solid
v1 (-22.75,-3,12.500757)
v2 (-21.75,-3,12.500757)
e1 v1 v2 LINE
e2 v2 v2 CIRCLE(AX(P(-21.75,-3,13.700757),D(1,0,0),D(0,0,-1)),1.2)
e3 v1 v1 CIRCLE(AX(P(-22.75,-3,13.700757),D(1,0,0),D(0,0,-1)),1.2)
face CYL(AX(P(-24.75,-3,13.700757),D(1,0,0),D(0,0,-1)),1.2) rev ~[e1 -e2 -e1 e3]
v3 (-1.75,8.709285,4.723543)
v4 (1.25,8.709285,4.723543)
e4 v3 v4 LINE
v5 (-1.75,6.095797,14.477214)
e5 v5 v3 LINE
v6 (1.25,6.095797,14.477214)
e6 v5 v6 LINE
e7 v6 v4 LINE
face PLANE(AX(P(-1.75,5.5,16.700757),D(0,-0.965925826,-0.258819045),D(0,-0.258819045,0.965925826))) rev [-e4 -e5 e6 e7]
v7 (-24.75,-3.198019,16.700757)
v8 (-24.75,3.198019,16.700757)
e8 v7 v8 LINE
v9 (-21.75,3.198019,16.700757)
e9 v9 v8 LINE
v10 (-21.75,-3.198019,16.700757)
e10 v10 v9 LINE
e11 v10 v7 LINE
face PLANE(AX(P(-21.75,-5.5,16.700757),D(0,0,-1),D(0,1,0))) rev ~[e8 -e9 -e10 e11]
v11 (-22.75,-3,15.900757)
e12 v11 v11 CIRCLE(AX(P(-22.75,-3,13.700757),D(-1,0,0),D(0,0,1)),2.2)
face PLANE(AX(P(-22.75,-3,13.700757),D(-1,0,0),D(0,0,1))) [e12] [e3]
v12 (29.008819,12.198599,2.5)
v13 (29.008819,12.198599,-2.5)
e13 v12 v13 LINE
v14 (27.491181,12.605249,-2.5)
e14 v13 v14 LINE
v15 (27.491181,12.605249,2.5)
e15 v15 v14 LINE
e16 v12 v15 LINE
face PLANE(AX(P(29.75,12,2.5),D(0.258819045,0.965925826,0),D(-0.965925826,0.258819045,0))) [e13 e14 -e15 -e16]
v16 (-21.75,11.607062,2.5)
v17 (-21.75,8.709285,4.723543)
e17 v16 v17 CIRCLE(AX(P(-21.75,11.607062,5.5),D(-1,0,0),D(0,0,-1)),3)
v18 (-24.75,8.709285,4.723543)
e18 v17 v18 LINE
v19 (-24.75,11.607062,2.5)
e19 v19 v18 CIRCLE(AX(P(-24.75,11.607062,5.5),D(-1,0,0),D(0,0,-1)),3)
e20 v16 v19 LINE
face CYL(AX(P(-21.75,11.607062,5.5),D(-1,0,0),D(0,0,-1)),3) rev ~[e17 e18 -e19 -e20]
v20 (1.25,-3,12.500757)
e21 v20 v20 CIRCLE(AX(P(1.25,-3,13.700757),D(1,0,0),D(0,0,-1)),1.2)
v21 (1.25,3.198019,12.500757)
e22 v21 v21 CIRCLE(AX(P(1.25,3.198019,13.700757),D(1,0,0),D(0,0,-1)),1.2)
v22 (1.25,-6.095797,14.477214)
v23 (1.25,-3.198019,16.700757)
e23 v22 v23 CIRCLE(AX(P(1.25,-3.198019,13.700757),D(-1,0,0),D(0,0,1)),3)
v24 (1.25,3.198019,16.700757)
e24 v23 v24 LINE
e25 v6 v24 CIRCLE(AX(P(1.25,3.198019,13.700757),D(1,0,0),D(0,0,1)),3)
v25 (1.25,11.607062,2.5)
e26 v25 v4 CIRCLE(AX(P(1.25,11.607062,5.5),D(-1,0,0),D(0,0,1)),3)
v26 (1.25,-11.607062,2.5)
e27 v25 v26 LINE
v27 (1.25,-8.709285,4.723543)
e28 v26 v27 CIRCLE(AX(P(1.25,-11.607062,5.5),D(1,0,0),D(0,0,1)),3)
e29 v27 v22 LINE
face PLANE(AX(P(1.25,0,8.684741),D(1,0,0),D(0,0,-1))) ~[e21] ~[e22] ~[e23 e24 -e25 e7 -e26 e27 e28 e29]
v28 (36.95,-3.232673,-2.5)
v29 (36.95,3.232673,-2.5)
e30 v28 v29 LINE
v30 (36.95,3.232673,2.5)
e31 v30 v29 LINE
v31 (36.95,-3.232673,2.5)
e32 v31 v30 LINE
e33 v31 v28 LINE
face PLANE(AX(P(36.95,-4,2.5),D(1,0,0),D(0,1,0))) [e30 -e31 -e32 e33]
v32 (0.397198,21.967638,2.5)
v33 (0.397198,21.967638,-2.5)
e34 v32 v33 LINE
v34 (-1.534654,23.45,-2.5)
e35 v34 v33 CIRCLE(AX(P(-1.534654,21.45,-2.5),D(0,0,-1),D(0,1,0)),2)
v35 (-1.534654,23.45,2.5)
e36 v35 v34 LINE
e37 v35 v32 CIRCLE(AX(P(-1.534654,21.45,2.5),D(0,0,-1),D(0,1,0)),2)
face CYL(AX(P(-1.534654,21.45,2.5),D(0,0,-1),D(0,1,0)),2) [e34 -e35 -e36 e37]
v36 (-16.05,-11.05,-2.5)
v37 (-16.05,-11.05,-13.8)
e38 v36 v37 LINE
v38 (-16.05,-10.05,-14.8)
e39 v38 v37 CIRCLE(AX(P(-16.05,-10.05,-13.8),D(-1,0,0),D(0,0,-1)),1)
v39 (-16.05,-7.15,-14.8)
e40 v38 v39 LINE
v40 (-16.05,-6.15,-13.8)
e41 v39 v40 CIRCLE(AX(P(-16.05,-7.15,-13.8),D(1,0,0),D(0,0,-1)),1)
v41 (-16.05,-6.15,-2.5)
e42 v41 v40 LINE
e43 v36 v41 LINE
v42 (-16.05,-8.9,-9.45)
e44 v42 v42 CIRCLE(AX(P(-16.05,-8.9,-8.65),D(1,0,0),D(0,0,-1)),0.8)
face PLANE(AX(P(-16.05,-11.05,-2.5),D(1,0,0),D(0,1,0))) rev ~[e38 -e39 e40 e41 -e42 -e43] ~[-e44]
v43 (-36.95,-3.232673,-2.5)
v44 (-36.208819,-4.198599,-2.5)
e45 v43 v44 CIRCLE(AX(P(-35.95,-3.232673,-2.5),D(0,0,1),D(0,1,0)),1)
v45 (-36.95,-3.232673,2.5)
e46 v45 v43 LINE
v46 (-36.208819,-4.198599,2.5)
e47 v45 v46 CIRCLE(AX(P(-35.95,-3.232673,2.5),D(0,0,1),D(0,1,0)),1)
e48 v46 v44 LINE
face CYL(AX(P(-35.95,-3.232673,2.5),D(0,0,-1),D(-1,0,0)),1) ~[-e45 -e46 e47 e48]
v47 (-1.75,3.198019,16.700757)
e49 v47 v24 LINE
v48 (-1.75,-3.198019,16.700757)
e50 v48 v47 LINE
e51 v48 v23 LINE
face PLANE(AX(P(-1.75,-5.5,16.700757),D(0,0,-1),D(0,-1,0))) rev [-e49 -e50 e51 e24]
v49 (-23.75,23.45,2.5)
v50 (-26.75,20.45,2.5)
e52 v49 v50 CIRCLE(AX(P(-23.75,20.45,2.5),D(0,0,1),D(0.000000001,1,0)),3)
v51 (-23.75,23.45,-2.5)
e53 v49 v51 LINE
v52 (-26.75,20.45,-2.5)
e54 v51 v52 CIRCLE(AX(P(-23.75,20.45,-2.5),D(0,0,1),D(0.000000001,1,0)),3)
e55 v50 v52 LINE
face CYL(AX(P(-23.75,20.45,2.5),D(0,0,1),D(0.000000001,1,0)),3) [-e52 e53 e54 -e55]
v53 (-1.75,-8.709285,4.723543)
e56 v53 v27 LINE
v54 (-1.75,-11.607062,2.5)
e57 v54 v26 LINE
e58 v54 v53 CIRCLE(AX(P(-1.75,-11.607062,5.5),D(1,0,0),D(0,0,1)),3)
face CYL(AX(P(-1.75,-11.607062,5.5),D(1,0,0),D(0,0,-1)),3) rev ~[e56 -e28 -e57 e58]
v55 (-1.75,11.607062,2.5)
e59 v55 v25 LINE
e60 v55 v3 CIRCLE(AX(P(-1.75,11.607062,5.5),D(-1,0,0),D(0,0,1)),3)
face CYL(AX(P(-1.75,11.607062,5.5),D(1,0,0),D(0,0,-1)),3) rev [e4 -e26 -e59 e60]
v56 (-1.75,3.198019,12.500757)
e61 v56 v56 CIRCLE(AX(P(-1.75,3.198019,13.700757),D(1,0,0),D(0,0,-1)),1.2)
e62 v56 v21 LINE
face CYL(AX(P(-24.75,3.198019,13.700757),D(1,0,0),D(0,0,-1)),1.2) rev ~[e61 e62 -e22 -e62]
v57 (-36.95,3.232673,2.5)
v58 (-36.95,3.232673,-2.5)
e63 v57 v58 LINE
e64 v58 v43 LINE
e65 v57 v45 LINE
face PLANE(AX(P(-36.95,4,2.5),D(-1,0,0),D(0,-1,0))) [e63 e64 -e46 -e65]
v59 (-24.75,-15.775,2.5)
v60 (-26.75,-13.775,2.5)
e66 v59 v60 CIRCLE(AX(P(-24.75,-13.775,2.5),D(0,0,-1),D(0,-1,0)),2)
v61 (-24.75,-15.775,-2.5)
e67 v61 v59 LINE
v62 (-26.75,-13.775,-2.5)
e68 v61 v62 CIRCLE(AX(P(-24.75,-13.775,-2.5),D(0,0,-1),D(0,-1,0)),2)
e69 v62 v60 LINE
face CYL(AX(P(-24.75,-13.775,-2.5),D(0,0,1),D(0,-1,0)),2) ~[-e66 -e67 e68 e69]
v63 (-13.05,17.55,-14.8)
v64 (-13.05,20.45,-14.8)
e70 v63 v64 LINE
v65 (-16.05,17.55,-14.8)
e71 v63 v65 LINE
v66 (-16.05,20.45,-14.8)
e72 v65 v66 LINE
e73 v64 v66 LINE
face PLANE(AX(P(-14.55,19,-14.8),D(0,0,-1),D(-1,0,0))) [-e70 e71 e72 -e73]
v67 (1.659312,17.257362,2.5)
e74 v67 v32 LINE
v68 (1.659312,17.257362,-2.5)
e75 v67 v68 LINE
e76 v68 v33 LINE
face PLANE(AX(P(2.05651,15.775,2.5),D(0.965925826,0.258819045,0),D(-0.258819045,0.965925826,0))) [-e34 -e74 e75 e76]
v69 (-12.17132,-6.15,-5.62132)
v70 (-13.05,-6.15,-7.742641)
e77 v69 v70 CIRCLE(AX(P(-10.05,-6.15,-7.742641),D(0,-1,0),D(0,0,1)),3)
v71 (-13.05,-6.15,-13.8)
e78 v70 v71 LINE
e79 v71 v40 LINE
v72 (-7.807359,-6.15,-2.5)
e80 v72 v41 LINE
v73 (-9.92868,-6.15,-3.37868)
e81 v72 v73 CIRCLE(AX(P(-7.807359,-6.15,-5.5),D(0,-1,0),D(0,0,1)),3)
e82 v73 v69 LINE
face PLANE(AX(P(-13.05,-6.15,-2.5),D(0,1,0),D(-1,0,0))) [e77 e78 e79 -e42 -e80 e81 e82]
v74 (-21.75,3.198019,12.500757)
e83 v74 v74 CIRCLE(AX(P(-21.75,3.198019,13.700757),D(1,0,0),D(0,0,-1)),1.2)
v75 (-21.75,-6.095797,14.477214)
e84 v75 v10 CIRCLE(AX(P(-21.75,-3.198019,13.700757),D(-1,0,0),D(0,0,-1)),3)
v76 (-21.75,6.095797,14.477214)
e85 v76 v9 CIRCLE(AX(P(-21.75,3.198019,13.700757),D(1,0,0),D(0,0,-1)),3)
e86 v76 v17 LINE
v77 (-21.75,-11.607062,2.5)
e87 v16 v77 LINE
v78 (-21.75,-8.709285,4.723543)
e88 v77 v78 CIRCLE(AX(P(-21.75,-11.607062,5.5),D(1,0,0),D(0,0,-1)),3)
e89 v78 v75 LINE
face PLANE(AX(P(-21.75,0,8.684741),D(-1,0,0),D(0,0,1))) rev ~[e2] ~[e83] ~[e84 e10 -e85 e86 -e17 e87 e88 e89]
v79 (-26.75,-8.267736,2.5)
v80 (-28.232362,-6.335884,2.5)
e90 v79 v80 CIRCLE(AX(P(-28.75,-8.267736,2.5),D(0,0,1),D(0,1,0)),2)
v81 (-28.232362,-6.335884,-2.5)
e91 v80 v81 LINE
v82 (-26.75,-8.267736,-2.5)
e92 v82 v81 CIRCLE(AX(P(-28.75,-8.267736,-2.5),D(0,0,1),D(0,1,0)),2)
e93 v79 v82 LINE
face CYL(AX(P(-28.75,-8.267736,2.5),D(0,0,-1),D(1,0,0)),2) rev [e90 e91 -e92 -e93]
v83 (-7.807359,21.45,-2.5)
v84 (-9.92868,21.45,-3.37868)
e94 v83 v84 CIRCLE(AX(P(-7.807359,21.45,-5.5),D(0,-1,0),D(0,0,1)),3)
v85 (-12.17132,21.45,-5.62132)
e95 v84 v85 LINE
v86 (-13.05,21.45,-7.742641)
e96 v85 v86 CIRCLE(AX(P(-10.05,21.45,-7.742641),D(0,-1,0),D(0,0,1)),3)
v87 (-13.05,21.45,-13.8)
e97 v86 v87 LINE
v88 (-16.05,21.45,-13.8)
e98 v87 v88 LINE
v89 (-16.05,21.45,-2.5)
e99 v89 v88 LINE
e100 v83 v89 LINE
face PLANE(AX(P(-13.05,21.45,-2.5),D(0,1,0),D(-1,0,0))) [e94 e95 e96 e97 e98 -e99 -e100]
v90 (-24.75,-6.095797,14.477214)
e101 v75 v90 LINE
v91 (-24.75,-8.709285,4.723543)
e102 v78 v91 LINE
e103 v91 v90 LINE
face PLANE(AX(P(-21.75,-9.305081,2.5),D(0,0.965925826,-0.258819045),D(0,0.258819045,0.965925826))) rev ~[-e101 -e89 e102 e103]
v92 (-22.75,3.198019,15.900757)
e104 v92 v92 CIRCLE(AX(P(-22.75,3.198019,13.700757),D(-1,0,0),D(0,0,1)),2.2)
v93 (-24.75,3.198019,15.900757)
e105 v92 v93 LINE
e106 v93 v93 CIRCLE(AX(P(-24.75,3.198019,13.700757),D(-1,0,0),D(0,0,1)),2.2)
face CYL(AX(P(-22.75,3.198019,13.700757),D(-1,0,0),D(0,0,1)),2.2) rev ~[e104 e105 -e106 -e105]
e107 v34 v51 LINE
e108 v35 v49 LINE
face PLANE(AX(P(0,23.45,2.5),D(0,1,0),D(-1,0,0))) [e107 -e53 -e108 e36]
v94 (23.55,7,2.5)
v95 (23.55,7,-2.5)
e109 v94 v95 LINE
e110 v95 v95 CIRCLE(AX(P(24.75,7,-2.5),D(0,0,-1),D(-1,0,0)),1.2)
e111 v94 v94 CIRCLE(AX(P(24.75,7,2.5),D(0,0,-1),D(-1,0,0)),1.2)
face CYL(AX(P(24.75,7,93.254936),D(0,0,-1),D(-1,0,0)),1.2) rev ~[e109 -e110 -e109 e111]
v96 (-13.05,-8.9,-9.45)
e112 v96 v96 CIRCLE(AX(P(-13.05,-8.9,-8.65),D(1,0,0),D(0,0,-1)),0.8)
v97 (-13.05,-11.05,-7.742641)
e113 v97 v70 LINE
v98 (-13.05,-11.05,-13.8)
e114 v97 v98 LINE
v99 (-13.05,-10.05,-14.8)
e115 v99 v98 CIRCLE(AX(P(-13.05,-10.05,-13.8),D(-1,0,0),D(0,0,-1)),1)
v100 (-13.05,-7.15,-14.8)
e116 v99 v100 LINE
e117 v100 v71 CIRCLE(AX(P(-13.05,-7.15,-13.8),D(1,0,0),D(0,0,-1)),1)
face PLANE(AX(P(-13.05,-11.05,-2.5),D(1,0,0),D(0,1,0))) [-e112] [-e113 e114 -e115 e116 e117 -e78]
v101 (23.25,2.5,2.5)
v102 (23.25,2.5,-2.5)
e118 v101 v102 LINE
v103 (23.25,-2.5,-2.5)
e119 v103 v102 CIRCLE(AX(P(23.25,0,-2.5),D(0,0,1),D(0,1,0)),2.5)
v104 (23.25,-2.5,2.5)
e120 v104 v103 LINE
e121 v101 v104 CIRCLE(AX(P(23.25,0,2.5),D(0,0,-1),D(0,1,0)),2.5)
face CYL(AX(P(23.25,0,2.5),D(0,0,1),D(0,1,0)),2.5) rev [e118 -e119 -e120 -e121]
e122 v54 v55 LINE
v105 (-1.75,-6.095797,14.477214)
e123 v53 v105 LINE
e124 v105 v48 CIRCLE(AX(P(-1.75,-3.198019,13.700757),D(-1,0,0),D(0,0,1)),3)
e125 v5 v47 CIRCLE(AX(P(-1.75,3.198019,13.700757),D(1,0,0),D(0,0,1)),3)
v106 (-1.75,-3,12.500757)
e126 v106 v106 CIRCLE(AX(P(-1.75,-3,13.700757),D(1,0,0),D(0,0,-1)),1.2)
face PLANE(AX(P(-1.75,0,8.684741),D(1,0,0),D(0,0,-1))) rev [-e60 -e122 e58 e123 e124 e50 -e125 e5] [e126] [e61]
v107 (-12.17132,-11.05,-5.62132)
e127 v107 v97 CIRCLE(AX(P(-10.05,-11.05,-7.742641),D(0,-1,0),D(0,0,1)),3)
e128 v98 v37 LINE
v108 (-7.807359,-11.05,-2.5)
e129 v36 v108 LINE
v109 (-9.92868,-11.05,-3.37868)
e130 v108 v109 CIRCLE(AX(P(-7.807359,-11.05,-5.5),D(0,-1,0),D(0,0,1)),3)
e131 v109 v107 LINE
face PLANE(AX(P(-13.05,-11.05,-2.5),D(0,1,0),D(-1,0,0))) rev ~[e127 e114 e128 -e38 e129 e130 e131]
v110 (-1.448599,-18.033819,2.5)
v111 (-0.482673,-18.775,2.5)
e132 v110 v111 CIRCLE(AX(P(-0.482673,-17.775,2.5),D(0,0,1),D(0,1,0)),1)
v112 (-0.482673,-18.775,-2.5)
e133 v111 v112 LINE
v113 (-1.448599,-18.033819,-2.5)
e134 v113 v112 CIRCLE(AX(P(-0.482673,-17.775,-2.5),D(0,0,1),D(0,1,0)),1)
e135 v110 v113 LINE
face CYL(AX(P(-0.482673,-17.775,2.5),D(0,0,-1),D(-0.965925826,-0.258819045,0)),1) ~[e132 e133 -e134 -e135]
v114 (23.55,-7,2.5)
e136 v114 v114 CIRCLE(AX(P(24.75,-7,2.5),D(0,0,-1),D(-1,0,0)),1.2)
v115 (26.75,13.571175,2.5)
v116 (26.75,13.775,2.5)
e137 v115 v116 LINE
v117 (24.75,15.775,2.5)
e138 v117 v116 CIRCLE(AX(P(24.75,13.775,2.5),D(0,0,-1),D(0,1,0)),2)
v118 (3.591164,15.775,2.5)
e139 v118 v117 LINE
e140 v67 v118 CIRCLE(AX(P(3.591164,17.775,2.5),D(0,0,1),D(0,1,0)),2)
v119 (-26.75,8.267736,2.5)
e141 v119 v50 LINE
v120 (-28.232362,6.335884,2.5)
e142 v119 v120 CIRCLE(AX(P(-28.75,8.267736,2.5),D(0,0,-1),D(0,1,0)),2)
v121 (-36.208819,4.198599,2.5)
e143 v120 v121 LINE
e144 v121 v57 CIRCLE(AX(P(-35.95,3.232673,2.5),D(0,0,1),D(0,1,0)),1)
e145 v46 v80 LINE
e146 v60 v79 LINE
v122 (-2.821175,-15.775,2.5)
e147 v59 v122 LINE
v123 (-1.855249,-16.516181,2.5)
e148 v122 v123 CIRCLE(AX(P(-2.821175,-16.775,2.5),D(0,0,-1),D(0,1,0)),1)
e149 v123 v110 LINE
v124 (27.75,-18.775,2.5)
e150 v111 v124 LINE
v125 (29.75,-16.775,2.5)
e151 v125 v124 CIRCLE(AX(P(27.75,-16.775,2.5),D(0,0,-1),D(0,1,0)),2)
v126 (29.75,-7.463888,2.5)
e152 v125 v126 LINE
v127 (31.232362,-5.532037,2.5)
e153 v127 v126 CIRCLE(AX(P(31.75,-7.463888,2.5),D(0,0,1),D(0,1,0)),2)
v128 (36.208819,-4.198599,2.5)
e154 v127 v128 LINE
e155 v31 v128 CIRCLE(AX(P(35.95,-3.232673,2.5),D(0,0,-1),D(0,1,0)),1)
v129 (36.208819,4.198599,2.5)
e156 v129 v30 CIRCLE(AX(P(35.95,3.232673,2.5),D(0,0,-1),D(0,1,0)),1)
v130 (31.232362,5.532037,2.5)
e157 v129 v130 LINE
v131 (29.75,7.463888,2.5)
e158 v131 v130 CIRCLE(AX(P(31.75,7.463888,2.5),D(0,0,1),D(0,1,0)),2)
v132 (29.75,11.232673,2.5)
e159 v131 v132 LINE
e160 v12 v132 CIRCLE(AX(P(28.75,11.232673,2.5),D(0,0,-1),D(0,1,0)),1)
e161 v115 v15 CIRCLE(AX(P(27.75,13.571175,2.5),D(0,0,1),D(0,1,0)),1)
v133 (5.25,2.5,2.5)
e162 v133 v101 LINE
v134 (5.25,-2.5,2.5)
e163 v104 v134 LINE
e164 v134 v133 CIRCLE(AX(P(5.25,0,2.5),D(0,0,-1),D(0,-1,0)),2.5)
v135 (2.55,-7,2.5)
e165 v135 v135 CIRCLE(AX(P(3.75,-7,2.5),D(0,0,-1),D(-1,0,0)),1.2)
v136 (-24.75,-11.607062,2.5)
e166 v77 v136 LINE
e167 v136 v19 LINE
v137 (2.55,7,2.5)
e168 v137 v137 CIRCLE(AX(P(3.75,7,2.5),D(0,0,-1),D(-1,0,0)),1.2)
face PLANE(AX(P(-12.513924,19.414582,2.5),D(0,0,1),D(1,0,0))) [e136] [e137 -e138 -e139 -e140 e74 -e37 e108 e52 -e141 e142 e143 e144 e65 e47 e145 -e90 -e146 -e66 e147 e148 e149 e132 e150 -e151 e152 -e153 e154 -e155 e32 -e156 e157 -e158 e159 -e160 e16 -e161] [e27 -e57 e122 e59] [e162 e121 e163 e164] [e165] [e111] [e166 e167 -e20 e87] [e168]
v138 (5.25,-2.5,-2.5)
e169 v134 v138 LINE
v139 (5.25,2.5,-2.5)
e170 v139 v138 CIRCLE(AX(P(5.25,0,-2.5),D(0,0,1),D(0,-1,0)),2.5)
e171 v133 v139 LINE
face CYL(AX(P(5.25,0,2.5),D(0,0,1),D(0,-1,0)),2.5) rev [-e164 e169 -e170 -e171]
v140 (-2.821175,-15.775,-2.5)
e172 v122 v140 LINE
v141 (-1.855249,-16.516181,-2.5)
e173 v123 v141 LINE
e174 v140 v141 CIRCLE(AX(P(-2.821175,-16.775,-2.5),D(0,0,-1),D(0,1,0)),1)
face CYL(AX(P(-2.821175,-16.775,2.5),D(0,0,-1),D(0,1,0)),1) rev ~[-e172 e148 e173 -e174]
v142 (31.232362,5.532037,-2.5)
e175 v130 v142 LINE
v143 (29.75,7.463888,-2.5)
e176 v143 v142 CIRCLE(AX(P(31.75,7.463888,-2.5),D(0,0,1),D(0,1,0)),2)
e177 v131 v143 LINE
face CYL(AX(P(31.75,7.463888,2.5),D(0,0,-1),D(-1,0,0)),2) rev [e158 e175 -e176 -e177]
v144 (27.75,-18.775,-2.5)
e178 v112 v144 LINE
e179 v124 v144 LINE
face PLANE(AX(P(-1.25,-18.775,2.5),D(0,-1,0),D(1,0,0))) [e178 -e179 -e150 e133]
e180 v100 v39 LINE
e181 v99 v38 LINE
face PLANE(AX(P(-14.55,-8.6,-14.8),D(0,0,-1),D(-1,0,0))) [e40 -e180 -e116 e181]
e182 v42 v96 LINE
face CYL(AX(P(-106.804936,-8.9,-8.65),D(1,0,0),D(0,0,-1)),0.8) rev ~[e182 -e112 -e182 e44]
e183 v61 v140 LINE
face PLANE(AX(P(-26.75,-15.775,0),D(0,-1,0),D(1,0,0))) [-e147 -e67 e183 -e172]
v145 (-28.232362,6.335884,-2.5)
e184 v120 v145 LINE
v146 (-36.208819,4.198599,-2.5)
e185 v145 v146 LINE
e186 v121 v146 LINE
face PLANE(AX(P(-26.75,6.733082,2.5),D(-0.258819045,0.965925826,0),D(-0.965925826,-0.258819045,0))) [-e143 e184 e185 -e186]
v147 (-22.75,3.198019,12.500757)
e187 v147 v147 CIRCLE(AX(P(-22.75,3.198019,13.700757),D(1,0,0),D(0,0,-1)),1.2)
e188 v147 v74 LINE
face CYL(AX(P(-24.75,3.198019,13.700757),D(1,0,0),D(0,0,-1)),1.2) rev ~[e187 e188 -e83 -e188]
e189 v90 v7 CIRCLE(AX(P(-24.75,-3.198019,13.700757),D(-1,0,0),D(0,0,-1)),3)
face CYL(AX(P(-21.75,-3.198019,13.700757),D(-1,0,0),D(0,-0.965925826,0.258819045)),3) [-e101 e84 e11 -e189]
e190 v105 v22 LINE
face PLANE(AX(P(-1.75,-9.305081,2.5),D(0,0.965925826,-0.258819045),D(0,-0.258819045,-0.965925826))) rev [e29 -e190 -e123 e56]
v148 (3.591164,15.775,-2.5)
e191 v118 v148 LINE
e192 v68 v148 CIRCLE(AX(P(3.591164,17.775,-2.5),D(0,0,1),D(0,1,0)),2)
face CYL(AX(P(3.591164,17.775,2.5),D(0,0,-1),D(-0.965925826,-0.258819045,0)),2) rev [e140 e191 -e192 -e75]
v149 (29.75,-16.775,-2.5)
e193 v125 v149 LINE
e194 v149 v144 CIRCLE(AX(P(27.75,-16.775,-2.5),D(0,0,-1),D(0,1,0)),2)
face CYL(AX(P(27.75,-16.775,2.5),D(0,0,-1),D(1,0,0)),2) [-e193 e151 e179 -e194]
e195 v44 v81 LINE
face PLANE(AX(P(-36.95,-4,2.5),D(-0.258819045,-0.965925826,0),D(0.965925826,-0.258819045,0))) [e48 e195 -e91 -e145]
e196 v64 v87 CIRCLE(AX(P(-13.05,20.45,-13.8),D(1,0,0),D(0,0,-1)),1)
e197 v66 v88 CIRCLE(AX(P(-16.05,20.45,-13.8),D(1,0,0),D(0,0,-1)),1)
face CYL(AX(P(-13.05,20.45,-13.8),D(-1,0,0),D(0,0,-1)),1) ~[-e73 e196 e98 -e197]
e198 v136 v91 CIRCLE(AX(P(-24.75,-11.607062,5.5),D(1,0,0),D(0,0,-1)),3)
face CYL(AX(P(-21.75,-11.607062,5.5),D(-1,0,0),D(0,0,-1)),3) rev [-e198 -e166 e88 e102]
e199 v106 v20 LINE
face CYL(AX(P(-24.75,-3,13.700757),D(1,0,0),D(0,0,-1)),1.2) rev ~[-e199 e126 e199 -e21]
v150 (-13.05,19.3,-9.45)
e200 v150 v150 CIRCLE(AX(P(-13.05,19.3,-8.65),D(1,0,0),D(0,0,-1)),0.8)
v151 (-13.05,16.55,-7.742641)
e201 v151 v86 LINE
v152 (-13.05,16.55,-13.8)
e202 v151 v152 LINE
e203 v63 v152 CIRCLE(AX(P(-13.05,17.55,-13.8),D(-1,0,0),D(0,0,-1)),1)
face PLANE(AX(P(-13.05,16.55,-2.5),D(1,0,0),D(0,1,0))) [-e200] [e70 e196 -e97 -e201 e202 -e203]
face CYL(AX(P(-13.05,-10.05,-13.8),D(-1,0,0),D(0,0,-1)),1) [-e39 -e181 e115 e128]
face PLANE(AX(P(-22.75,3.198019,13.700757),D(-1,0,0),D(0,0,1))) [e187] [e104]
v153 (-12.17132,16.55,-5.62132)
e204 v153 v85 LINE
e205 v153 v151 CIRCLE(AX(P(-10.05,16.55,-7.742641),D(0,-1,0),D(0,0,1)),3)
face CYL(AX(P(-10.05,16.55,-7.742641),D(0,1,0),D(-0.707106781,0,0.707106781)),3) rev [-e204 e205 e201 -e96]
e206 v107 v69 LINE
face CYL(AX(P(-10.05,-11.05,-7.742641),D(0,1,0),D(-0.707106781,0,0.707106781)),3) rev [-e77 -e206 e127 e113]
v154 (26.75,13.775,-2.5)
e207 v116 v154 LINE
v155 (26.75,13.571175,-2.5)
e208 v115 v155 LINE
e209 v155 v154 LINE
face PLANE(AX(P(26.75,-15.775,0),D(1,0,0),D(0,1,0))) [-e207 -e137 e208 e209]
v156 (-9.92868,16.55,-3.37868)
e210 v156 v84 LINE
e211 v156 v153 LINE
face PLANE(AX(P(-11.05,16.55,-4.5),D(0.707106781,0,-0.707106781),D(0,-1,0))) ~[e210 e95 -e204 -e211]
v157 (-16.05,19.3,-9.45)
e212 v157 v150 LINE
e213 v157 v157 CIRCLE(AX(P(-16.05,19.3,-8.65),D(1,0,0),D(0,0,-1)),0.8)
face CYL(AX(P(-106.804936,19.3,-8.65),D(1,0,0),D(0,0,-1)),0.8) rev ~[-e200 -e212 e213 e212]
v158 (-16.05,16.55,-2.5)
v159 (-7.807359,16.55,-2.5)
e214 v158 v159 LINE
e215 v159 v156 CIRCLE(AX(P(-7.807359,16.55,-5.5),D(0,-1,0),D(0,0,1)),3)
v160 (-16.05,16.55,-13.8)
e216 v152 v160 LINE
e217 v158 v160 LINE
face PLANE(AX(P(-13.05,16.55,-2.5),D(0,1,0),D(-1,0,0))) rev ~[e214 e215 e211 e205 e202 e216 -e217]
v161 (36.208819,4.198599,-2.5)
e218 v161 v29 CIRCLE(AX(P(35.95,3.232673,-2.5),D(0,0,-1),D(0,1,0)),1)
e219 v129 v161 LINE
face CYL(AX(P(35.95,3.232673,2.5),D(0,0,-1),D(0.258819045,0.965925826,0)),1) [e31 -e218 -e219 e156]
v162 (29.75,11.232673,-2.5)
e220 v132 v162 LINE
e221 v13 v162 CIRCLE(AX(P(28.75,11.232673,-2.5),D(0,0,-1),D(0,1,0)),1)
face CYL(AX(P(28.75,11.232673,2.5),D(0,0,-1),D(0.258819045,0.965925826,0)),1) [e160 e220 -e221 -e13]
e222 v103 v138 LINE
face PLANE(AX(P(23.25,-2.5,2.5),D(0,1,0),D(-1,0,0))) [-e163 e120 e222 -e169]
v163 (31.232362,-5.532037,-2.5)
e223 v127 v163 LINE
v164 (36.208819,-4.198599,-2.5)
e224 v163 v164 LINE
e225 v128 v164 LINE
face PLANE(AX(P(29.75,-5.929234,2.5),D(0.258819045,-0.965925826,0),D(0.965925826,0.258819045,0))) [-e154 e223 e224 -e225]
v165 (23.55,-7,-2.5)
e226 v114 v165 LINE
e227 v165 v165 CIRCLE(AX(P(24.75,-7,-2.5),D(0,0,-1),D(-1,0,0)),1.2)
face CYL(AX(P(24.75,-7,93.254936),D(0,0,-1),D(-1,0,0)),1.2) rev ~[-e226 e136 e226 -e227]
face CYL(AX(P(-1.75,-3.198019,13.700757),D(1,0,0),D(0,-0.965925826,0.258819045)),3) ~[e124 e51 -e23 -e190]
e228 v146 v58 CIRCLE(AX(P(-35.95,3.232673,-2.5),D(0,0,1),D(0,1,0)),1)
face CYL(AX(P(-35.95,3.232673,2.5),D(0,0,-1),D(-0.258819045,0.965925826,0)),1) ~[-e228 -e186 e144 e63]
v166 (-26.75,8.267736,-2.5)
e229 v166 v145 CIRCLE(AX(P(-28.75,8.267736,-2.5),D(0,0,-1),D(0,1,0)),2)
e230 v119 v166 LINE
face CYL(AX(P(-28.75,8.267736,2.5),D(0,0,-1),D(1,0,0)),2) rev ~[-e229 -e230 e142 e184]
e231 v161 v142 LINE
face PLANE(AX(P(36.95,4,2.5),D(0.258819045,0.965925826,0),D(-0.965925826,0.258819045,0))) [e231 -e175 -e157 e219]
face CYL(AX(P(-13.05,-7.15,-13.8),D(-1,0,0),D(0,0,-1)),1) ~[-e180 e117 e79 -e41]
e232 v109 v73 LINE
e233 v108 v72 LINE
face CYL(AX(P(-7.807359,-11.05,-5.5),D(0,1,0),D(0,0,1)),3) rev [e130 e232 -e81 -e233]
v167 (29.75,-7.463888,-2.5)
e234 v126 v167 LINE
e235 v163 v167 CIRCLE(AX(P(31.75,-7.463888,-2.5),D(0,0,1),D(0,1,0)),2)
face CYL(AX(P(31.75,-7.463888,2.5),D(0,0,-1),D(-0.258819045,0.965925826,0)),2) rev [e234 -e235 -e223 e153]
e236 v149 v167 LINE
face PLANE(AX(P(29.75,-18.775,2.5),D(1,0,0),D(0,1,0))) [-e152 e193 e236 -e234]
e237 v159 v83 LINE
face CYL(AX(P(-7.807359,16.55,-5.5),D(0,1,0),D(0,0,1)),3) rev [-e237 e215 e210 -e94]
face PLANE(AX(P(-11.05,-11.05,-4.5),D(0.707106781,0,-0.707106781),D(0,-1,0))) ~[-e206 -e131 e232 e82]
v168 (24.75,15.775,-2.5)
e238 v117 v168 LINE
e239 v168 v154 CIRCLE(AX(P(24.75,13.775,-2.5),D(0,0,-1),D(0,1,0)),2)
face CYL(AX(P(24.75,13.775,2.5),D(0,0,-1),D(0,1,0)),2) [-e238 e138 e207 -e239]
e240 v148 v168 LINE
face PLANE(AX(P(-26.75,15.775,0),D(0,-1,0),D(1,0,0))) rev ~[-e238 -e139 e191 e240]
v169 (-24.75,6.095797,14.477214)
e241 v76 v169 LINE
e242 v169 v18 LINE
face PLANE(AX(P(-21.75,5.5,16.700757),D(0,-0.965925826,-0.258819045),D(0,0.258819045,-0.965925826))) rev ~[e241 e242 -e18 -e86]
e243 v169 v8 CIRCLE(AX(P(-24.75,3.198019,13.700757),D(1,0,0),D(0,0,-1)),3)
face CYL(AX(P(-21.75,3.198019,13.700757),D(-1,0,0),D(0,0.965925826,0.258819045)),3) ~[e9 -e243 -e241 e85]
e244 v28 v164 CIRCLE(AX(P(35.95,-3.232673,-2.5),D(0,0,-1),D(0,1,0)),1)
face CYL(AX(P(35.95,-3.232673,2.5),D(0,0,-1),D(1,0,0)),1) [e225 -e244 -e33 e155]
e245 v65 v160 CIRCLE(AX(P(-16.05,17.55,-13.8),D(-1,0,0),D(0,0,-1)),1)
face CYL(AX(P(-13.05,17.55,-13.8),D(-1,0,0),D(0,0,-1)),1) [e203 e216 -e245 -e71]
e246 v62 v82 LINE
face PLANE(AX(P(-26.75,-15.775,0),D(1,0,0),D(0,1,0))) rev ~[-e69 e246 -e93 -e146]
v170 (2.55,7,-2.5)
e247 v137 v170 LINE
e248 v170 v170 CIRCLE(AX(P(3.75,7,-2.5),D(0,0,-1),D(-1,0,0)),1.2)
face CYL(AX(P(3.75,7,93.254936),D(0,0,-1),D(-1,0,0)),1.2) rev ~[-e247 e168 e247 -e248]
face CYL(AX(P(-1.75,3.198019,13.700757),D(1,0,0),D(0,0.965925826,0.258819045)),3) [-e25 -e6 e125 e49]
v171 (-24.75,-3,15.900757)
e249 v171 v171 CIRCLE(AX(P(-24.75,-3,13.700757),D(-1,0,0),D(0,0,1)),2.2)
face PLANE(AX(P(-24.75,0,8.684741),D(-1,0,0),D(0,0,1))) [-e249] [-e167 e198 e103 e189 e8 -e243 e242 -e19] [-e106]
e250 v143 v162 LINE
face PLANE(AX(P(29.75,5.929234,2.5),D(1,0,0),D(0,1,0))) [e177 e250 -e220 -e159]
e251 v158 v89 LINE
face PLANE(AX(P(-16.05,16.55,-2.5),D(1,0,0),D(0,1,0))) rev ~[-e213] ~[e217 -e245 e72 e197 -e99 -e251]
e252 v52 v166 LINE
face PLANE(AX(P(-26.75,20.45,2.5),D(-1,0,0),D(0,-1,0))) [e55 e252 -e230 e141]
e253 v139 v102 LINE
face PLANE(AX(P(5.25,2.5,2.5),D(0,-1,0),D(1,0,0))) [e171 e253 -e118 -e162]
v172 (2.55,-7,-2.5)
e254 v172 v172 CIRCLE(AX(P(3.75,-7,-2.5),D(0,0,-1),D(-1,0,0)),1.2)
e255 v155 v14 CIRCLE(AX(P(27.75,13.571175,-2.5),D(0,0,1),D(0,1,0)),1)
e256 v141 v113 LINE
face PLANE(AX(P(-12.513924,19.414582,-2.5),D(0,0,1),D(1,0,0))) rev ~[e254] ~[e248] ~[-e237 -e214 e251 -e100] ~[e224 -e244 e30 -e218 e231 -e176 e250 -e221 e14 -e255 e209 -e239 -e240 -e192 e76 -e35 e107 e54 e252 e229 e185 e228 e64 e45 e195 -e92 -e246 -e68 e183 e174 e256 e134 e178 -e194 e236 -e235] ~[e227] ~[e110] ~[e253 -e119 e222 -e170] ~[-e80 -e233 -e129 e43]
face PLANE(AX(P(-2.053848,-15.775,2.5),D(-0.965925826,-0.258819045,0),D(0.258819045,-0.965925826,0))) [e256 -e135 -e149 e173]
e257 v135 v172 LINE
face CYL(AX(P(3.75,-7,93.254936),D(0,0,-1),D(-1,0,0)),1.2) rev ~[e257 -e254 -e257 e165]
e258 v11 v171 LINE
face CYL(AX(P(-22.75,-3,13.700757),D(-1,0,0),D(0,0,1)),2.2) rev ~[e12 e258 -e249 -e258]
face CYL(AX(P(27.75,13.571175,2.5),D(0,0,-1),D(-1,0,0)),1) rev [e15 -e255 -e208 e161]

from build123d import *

# Parameters (mm, degrees)
SKETCH1_W                      = 53.5
SKETCH1_H                      = 31.55
BOSS_EXTRUDE1_DEPTH            = 2.5
BOSS_EXTRUDE2_DEPTH            = 5
FILLET1_R                      = 2
FILLET2_R                      = 1
BOSS_EXTRUDE3_DEPTH            = 3
FILLET3_R                      = 3
FILLET3_OF_MIRROR1_R           = 3
SKETCH4_W                      = 3
SKETCH4_H                      = 4.9
BOSS_EXTRUDE4_DEPTH            = 12.3
CHAMFER1_SIZE                  = 4
FILLET4_R                      = 3
FILLET5_R                      = 1
M2_CLEARANCE_HOLE1_D           = 2.4
M2X0_4_TAPPED_HOLE1_D          = 1.6
CBORE_FOR_M2_SHCS1_D           = 2.4
CBORE_FOR_M2_SHCS1_CBORE_D     = 4.4
CBORE_FOR_M2_SHCS1_CBORE_DEPTH = 2
CUT_EXTRUDE1_DEPTH             = 48.058421138


with BuildPart() as part:
    # Sketch1 → Boss-Extrude1 (new, symmetric)
    with BuildSketch(Plane.XY):
        Rectangle(SKETCH1_W, SKETCH1_H)
    extrude(amount=BOSS_EXTRUDE1_DEPTH, both=True)

    # Sketch2 → Boss-Extrude2 (add)
    with BuildSketch(Plane.XY.offset(2.5)):
        with BuildLine():
            Line((-26.75, 20.45), (-26.75, 15.775))
            Line((-26.75, 15.775), (2.056510052, 15.775))
            Line((2.056510052, 15.775), (0, 23.45))
            Line((0, 23.45), (-23.75, 23.45))
            ThreePointArc((-23.75, 23.45), (-25.871320344, 22.571320344), (-26.75, 20.45))
        make_face()
        Polygon((-36.95, 4), (-36.95, -4), (-26.75, -6.733081763), (-26.75, 6.733081763), align=None)
        Polygon((26.75, -15.775), (-2.053847577, -15.775), (-1.25, -18.775), (29.75, -18.775), (29.75, -5.929234186), (36.95, -4), (36.95, 4), (29.75, 5.929234186), (29.75, 12), (26.75, 12.803847577), align=None)
    extrude(amount=-BOSS_EXTRUDE2_DEPTH)

    # Fillet1
    fillet1_edges = [part.edges().sort_by_distance(p)[0] for p in [
        (-26.75, -6.733081763, 0),
        (-26.75, 6.733081763, 0),
        (0, 23.45, 0),
        (2.056510052, 15.775, 0),
        (29.75, -5.929234186, 0),
        (29.75, -18.775, 0),
        (29.75, 5.929234186, 0),
        (-26.75, -15.775, 0),
        (26.75, 15.775, 0),
    ]]
    fillet(fillet1_edges, radius=FILLET1_R)

    # Fillet2
    fillet2_edges = [part.edges().sort_by_distance(p)[0] for p in [
        (-36.95, 4, 0),
        (-36.95, -4, 0),
        (-1.25, -18.775, 0),
        (-2.053847577, -15.775, 0),
        (26.75, 12.803847577, 0),
        (29.75, 12, 0),
        (36.95, 4, 0),
        (36.95, -4, 0),
    ]]
    fillet(fillet2_edges, radius=FILLET2_R)

    # Sketch3 → Boss-Extrude3 (add)
    with BuildSketch(Plane.ZY.offset(21.75)):
        Polygon((16.700757193, -5.5), (16.700757193, 5.5), (2.5, 9.305081422), (2.5, -9.305081422), align=None)
    boss_extrude3 = extrude(amount=BOSS_EXTRUDE3_DEPTH)

    # Fillet3
    fillet3_edges = [part.edges().sort_by_distance(p)[0] for p in [
        (-23.25, -9.305081422, 2.5),
        (-23.25, -5.5, 16.700757193),
        (-23.25, 5.5, 16.700757193),
        (-23.25, 9.305081422, 2.5),
    ]]
    fillet(fillet3_edges, radius=FILLET3_R)

    # Mirror1: Boss-Extrude3 across plane
    add(boss_extrude3.mirror(Plane(origin=(-11.75, 0, 0), x_dir=(0, 0, 1), z_dir=(1, 0, 0))))

    # Fillet3 of Mirror1
    fillet3_of_mirror1_edges = [part.edges().sort_by_distance(p)[0] for p in [
        (-0.25, -9.305081422, 2.5),
        (-0.25, -5.5, 16.700757193),
        (-0.25, 5.5, 16.700757193),
        (-0.25, 9.305081422, 2.5),
    ]]
    fillet(fillet3_of_mirror1_edges, radius=FILLET3_OF_MIRROR1_R)

    # Sketch4 → Boss-Extrude4 (add)
    with BuildSketch(Plane(origin=(0, 0, -2.5), x_dir=(-1, 0, 0), z_dir=(0, 0, -1))):
        with Locations((14.55, 19)):
            Rectangle(SKETCH4_W, SKETCH4_H)
        with Locations((14.55, -8.6)):
            Rectangle(SKETCH4_W, SKETCH4_H)
    extrude(amount=BOSS_EXTRUDE4_DEPTH)

    # Chamfer1
    chamfer1_edges = [part.edges().sort_by_distance(p)[0] for p in [
        (-13.05, 19, -2.5),
        (-13.05, -8.6, -2.5),
    ]]
    chamfer(chamfer1_edges, length=CHAMFER1_SIZE)

    # Fillet4
    fillet4_edges = [part.edges().sort_by_distance(p)[0] for p in [
        (-13.05, -8.6, -6.5),
        (-9.05, 19, -2.5),
        (-9.05, -8.6, -2.5),
        (-13.05, 19, -6.5),
    ]]
    fillet(fillet4_edges, radius=FILLET4_R)

    # Fillet5
    fillet5_edges = [part.edges().sort_by_distance(p)[0] for p in [
        (-14.55, 16.55, -14.8),
        (-14.55, 21.45, -14.8),
        (-14.55, -11.05, -14.8),
        (-14.55, -6.15, -14.8),
    ]]
    fillet(fillet5_edges, radius=FILLET5_R)

    # M2 Clearance Hole1 (through all)
    with Locations(Plane.XY.offset(2.5)):
        with Locations((3.75, 7), (3.75, -7), (24.75, -7), (24.75, 7)):
            Hole(M2_CLEARANCE_HOLE1_D / 2)

    # M2x0.4 Tapped Hole1 (through all)
    with Locations(Plane.ZY.offset(16.05)):
        with Locations((-8.65, 19.3), (-8.65, -8.9)):
            Hole(M2X0_4_TAPPED_HOLE1_D / 2)

    # CBORE for M2 SHCS1 (through all)
    with Locations(Plane.ZY.offset(24.75)):
        with Locations((13.700757193, 3.198019036), (13.700757193, -3)):
            CounterBoreHole(CBORE_FOR_M2_SHCS1_D / 2, CBORE_FOR_M2_SHCS1_CBORE_D / 2, CBORE_FOR_M2_SHCS1_CBORE_DEPTH)

    # Sketch13 → Cut-Extrude1 (cut, through all)
    with BuildSketch(Plane.XY.offset(2.5)):
        with BuildLine():
            Line((5.25, 2.5), (23.25, 2.5))
            ThreePointArc((23.25, 2.5), (25.75, 0), (23.25, -2.5))
            Line((23.25, -2.5), (5.25, -2.5))
            ThreePointArc((5.25, -2.5), (2.75, 0), (5.25, 2.5))
        make_face()
    extrude(amount=-CUT_EXTRUDE1_DEPTH, mode=Mode.SUBTRACT)


solid = part.part
